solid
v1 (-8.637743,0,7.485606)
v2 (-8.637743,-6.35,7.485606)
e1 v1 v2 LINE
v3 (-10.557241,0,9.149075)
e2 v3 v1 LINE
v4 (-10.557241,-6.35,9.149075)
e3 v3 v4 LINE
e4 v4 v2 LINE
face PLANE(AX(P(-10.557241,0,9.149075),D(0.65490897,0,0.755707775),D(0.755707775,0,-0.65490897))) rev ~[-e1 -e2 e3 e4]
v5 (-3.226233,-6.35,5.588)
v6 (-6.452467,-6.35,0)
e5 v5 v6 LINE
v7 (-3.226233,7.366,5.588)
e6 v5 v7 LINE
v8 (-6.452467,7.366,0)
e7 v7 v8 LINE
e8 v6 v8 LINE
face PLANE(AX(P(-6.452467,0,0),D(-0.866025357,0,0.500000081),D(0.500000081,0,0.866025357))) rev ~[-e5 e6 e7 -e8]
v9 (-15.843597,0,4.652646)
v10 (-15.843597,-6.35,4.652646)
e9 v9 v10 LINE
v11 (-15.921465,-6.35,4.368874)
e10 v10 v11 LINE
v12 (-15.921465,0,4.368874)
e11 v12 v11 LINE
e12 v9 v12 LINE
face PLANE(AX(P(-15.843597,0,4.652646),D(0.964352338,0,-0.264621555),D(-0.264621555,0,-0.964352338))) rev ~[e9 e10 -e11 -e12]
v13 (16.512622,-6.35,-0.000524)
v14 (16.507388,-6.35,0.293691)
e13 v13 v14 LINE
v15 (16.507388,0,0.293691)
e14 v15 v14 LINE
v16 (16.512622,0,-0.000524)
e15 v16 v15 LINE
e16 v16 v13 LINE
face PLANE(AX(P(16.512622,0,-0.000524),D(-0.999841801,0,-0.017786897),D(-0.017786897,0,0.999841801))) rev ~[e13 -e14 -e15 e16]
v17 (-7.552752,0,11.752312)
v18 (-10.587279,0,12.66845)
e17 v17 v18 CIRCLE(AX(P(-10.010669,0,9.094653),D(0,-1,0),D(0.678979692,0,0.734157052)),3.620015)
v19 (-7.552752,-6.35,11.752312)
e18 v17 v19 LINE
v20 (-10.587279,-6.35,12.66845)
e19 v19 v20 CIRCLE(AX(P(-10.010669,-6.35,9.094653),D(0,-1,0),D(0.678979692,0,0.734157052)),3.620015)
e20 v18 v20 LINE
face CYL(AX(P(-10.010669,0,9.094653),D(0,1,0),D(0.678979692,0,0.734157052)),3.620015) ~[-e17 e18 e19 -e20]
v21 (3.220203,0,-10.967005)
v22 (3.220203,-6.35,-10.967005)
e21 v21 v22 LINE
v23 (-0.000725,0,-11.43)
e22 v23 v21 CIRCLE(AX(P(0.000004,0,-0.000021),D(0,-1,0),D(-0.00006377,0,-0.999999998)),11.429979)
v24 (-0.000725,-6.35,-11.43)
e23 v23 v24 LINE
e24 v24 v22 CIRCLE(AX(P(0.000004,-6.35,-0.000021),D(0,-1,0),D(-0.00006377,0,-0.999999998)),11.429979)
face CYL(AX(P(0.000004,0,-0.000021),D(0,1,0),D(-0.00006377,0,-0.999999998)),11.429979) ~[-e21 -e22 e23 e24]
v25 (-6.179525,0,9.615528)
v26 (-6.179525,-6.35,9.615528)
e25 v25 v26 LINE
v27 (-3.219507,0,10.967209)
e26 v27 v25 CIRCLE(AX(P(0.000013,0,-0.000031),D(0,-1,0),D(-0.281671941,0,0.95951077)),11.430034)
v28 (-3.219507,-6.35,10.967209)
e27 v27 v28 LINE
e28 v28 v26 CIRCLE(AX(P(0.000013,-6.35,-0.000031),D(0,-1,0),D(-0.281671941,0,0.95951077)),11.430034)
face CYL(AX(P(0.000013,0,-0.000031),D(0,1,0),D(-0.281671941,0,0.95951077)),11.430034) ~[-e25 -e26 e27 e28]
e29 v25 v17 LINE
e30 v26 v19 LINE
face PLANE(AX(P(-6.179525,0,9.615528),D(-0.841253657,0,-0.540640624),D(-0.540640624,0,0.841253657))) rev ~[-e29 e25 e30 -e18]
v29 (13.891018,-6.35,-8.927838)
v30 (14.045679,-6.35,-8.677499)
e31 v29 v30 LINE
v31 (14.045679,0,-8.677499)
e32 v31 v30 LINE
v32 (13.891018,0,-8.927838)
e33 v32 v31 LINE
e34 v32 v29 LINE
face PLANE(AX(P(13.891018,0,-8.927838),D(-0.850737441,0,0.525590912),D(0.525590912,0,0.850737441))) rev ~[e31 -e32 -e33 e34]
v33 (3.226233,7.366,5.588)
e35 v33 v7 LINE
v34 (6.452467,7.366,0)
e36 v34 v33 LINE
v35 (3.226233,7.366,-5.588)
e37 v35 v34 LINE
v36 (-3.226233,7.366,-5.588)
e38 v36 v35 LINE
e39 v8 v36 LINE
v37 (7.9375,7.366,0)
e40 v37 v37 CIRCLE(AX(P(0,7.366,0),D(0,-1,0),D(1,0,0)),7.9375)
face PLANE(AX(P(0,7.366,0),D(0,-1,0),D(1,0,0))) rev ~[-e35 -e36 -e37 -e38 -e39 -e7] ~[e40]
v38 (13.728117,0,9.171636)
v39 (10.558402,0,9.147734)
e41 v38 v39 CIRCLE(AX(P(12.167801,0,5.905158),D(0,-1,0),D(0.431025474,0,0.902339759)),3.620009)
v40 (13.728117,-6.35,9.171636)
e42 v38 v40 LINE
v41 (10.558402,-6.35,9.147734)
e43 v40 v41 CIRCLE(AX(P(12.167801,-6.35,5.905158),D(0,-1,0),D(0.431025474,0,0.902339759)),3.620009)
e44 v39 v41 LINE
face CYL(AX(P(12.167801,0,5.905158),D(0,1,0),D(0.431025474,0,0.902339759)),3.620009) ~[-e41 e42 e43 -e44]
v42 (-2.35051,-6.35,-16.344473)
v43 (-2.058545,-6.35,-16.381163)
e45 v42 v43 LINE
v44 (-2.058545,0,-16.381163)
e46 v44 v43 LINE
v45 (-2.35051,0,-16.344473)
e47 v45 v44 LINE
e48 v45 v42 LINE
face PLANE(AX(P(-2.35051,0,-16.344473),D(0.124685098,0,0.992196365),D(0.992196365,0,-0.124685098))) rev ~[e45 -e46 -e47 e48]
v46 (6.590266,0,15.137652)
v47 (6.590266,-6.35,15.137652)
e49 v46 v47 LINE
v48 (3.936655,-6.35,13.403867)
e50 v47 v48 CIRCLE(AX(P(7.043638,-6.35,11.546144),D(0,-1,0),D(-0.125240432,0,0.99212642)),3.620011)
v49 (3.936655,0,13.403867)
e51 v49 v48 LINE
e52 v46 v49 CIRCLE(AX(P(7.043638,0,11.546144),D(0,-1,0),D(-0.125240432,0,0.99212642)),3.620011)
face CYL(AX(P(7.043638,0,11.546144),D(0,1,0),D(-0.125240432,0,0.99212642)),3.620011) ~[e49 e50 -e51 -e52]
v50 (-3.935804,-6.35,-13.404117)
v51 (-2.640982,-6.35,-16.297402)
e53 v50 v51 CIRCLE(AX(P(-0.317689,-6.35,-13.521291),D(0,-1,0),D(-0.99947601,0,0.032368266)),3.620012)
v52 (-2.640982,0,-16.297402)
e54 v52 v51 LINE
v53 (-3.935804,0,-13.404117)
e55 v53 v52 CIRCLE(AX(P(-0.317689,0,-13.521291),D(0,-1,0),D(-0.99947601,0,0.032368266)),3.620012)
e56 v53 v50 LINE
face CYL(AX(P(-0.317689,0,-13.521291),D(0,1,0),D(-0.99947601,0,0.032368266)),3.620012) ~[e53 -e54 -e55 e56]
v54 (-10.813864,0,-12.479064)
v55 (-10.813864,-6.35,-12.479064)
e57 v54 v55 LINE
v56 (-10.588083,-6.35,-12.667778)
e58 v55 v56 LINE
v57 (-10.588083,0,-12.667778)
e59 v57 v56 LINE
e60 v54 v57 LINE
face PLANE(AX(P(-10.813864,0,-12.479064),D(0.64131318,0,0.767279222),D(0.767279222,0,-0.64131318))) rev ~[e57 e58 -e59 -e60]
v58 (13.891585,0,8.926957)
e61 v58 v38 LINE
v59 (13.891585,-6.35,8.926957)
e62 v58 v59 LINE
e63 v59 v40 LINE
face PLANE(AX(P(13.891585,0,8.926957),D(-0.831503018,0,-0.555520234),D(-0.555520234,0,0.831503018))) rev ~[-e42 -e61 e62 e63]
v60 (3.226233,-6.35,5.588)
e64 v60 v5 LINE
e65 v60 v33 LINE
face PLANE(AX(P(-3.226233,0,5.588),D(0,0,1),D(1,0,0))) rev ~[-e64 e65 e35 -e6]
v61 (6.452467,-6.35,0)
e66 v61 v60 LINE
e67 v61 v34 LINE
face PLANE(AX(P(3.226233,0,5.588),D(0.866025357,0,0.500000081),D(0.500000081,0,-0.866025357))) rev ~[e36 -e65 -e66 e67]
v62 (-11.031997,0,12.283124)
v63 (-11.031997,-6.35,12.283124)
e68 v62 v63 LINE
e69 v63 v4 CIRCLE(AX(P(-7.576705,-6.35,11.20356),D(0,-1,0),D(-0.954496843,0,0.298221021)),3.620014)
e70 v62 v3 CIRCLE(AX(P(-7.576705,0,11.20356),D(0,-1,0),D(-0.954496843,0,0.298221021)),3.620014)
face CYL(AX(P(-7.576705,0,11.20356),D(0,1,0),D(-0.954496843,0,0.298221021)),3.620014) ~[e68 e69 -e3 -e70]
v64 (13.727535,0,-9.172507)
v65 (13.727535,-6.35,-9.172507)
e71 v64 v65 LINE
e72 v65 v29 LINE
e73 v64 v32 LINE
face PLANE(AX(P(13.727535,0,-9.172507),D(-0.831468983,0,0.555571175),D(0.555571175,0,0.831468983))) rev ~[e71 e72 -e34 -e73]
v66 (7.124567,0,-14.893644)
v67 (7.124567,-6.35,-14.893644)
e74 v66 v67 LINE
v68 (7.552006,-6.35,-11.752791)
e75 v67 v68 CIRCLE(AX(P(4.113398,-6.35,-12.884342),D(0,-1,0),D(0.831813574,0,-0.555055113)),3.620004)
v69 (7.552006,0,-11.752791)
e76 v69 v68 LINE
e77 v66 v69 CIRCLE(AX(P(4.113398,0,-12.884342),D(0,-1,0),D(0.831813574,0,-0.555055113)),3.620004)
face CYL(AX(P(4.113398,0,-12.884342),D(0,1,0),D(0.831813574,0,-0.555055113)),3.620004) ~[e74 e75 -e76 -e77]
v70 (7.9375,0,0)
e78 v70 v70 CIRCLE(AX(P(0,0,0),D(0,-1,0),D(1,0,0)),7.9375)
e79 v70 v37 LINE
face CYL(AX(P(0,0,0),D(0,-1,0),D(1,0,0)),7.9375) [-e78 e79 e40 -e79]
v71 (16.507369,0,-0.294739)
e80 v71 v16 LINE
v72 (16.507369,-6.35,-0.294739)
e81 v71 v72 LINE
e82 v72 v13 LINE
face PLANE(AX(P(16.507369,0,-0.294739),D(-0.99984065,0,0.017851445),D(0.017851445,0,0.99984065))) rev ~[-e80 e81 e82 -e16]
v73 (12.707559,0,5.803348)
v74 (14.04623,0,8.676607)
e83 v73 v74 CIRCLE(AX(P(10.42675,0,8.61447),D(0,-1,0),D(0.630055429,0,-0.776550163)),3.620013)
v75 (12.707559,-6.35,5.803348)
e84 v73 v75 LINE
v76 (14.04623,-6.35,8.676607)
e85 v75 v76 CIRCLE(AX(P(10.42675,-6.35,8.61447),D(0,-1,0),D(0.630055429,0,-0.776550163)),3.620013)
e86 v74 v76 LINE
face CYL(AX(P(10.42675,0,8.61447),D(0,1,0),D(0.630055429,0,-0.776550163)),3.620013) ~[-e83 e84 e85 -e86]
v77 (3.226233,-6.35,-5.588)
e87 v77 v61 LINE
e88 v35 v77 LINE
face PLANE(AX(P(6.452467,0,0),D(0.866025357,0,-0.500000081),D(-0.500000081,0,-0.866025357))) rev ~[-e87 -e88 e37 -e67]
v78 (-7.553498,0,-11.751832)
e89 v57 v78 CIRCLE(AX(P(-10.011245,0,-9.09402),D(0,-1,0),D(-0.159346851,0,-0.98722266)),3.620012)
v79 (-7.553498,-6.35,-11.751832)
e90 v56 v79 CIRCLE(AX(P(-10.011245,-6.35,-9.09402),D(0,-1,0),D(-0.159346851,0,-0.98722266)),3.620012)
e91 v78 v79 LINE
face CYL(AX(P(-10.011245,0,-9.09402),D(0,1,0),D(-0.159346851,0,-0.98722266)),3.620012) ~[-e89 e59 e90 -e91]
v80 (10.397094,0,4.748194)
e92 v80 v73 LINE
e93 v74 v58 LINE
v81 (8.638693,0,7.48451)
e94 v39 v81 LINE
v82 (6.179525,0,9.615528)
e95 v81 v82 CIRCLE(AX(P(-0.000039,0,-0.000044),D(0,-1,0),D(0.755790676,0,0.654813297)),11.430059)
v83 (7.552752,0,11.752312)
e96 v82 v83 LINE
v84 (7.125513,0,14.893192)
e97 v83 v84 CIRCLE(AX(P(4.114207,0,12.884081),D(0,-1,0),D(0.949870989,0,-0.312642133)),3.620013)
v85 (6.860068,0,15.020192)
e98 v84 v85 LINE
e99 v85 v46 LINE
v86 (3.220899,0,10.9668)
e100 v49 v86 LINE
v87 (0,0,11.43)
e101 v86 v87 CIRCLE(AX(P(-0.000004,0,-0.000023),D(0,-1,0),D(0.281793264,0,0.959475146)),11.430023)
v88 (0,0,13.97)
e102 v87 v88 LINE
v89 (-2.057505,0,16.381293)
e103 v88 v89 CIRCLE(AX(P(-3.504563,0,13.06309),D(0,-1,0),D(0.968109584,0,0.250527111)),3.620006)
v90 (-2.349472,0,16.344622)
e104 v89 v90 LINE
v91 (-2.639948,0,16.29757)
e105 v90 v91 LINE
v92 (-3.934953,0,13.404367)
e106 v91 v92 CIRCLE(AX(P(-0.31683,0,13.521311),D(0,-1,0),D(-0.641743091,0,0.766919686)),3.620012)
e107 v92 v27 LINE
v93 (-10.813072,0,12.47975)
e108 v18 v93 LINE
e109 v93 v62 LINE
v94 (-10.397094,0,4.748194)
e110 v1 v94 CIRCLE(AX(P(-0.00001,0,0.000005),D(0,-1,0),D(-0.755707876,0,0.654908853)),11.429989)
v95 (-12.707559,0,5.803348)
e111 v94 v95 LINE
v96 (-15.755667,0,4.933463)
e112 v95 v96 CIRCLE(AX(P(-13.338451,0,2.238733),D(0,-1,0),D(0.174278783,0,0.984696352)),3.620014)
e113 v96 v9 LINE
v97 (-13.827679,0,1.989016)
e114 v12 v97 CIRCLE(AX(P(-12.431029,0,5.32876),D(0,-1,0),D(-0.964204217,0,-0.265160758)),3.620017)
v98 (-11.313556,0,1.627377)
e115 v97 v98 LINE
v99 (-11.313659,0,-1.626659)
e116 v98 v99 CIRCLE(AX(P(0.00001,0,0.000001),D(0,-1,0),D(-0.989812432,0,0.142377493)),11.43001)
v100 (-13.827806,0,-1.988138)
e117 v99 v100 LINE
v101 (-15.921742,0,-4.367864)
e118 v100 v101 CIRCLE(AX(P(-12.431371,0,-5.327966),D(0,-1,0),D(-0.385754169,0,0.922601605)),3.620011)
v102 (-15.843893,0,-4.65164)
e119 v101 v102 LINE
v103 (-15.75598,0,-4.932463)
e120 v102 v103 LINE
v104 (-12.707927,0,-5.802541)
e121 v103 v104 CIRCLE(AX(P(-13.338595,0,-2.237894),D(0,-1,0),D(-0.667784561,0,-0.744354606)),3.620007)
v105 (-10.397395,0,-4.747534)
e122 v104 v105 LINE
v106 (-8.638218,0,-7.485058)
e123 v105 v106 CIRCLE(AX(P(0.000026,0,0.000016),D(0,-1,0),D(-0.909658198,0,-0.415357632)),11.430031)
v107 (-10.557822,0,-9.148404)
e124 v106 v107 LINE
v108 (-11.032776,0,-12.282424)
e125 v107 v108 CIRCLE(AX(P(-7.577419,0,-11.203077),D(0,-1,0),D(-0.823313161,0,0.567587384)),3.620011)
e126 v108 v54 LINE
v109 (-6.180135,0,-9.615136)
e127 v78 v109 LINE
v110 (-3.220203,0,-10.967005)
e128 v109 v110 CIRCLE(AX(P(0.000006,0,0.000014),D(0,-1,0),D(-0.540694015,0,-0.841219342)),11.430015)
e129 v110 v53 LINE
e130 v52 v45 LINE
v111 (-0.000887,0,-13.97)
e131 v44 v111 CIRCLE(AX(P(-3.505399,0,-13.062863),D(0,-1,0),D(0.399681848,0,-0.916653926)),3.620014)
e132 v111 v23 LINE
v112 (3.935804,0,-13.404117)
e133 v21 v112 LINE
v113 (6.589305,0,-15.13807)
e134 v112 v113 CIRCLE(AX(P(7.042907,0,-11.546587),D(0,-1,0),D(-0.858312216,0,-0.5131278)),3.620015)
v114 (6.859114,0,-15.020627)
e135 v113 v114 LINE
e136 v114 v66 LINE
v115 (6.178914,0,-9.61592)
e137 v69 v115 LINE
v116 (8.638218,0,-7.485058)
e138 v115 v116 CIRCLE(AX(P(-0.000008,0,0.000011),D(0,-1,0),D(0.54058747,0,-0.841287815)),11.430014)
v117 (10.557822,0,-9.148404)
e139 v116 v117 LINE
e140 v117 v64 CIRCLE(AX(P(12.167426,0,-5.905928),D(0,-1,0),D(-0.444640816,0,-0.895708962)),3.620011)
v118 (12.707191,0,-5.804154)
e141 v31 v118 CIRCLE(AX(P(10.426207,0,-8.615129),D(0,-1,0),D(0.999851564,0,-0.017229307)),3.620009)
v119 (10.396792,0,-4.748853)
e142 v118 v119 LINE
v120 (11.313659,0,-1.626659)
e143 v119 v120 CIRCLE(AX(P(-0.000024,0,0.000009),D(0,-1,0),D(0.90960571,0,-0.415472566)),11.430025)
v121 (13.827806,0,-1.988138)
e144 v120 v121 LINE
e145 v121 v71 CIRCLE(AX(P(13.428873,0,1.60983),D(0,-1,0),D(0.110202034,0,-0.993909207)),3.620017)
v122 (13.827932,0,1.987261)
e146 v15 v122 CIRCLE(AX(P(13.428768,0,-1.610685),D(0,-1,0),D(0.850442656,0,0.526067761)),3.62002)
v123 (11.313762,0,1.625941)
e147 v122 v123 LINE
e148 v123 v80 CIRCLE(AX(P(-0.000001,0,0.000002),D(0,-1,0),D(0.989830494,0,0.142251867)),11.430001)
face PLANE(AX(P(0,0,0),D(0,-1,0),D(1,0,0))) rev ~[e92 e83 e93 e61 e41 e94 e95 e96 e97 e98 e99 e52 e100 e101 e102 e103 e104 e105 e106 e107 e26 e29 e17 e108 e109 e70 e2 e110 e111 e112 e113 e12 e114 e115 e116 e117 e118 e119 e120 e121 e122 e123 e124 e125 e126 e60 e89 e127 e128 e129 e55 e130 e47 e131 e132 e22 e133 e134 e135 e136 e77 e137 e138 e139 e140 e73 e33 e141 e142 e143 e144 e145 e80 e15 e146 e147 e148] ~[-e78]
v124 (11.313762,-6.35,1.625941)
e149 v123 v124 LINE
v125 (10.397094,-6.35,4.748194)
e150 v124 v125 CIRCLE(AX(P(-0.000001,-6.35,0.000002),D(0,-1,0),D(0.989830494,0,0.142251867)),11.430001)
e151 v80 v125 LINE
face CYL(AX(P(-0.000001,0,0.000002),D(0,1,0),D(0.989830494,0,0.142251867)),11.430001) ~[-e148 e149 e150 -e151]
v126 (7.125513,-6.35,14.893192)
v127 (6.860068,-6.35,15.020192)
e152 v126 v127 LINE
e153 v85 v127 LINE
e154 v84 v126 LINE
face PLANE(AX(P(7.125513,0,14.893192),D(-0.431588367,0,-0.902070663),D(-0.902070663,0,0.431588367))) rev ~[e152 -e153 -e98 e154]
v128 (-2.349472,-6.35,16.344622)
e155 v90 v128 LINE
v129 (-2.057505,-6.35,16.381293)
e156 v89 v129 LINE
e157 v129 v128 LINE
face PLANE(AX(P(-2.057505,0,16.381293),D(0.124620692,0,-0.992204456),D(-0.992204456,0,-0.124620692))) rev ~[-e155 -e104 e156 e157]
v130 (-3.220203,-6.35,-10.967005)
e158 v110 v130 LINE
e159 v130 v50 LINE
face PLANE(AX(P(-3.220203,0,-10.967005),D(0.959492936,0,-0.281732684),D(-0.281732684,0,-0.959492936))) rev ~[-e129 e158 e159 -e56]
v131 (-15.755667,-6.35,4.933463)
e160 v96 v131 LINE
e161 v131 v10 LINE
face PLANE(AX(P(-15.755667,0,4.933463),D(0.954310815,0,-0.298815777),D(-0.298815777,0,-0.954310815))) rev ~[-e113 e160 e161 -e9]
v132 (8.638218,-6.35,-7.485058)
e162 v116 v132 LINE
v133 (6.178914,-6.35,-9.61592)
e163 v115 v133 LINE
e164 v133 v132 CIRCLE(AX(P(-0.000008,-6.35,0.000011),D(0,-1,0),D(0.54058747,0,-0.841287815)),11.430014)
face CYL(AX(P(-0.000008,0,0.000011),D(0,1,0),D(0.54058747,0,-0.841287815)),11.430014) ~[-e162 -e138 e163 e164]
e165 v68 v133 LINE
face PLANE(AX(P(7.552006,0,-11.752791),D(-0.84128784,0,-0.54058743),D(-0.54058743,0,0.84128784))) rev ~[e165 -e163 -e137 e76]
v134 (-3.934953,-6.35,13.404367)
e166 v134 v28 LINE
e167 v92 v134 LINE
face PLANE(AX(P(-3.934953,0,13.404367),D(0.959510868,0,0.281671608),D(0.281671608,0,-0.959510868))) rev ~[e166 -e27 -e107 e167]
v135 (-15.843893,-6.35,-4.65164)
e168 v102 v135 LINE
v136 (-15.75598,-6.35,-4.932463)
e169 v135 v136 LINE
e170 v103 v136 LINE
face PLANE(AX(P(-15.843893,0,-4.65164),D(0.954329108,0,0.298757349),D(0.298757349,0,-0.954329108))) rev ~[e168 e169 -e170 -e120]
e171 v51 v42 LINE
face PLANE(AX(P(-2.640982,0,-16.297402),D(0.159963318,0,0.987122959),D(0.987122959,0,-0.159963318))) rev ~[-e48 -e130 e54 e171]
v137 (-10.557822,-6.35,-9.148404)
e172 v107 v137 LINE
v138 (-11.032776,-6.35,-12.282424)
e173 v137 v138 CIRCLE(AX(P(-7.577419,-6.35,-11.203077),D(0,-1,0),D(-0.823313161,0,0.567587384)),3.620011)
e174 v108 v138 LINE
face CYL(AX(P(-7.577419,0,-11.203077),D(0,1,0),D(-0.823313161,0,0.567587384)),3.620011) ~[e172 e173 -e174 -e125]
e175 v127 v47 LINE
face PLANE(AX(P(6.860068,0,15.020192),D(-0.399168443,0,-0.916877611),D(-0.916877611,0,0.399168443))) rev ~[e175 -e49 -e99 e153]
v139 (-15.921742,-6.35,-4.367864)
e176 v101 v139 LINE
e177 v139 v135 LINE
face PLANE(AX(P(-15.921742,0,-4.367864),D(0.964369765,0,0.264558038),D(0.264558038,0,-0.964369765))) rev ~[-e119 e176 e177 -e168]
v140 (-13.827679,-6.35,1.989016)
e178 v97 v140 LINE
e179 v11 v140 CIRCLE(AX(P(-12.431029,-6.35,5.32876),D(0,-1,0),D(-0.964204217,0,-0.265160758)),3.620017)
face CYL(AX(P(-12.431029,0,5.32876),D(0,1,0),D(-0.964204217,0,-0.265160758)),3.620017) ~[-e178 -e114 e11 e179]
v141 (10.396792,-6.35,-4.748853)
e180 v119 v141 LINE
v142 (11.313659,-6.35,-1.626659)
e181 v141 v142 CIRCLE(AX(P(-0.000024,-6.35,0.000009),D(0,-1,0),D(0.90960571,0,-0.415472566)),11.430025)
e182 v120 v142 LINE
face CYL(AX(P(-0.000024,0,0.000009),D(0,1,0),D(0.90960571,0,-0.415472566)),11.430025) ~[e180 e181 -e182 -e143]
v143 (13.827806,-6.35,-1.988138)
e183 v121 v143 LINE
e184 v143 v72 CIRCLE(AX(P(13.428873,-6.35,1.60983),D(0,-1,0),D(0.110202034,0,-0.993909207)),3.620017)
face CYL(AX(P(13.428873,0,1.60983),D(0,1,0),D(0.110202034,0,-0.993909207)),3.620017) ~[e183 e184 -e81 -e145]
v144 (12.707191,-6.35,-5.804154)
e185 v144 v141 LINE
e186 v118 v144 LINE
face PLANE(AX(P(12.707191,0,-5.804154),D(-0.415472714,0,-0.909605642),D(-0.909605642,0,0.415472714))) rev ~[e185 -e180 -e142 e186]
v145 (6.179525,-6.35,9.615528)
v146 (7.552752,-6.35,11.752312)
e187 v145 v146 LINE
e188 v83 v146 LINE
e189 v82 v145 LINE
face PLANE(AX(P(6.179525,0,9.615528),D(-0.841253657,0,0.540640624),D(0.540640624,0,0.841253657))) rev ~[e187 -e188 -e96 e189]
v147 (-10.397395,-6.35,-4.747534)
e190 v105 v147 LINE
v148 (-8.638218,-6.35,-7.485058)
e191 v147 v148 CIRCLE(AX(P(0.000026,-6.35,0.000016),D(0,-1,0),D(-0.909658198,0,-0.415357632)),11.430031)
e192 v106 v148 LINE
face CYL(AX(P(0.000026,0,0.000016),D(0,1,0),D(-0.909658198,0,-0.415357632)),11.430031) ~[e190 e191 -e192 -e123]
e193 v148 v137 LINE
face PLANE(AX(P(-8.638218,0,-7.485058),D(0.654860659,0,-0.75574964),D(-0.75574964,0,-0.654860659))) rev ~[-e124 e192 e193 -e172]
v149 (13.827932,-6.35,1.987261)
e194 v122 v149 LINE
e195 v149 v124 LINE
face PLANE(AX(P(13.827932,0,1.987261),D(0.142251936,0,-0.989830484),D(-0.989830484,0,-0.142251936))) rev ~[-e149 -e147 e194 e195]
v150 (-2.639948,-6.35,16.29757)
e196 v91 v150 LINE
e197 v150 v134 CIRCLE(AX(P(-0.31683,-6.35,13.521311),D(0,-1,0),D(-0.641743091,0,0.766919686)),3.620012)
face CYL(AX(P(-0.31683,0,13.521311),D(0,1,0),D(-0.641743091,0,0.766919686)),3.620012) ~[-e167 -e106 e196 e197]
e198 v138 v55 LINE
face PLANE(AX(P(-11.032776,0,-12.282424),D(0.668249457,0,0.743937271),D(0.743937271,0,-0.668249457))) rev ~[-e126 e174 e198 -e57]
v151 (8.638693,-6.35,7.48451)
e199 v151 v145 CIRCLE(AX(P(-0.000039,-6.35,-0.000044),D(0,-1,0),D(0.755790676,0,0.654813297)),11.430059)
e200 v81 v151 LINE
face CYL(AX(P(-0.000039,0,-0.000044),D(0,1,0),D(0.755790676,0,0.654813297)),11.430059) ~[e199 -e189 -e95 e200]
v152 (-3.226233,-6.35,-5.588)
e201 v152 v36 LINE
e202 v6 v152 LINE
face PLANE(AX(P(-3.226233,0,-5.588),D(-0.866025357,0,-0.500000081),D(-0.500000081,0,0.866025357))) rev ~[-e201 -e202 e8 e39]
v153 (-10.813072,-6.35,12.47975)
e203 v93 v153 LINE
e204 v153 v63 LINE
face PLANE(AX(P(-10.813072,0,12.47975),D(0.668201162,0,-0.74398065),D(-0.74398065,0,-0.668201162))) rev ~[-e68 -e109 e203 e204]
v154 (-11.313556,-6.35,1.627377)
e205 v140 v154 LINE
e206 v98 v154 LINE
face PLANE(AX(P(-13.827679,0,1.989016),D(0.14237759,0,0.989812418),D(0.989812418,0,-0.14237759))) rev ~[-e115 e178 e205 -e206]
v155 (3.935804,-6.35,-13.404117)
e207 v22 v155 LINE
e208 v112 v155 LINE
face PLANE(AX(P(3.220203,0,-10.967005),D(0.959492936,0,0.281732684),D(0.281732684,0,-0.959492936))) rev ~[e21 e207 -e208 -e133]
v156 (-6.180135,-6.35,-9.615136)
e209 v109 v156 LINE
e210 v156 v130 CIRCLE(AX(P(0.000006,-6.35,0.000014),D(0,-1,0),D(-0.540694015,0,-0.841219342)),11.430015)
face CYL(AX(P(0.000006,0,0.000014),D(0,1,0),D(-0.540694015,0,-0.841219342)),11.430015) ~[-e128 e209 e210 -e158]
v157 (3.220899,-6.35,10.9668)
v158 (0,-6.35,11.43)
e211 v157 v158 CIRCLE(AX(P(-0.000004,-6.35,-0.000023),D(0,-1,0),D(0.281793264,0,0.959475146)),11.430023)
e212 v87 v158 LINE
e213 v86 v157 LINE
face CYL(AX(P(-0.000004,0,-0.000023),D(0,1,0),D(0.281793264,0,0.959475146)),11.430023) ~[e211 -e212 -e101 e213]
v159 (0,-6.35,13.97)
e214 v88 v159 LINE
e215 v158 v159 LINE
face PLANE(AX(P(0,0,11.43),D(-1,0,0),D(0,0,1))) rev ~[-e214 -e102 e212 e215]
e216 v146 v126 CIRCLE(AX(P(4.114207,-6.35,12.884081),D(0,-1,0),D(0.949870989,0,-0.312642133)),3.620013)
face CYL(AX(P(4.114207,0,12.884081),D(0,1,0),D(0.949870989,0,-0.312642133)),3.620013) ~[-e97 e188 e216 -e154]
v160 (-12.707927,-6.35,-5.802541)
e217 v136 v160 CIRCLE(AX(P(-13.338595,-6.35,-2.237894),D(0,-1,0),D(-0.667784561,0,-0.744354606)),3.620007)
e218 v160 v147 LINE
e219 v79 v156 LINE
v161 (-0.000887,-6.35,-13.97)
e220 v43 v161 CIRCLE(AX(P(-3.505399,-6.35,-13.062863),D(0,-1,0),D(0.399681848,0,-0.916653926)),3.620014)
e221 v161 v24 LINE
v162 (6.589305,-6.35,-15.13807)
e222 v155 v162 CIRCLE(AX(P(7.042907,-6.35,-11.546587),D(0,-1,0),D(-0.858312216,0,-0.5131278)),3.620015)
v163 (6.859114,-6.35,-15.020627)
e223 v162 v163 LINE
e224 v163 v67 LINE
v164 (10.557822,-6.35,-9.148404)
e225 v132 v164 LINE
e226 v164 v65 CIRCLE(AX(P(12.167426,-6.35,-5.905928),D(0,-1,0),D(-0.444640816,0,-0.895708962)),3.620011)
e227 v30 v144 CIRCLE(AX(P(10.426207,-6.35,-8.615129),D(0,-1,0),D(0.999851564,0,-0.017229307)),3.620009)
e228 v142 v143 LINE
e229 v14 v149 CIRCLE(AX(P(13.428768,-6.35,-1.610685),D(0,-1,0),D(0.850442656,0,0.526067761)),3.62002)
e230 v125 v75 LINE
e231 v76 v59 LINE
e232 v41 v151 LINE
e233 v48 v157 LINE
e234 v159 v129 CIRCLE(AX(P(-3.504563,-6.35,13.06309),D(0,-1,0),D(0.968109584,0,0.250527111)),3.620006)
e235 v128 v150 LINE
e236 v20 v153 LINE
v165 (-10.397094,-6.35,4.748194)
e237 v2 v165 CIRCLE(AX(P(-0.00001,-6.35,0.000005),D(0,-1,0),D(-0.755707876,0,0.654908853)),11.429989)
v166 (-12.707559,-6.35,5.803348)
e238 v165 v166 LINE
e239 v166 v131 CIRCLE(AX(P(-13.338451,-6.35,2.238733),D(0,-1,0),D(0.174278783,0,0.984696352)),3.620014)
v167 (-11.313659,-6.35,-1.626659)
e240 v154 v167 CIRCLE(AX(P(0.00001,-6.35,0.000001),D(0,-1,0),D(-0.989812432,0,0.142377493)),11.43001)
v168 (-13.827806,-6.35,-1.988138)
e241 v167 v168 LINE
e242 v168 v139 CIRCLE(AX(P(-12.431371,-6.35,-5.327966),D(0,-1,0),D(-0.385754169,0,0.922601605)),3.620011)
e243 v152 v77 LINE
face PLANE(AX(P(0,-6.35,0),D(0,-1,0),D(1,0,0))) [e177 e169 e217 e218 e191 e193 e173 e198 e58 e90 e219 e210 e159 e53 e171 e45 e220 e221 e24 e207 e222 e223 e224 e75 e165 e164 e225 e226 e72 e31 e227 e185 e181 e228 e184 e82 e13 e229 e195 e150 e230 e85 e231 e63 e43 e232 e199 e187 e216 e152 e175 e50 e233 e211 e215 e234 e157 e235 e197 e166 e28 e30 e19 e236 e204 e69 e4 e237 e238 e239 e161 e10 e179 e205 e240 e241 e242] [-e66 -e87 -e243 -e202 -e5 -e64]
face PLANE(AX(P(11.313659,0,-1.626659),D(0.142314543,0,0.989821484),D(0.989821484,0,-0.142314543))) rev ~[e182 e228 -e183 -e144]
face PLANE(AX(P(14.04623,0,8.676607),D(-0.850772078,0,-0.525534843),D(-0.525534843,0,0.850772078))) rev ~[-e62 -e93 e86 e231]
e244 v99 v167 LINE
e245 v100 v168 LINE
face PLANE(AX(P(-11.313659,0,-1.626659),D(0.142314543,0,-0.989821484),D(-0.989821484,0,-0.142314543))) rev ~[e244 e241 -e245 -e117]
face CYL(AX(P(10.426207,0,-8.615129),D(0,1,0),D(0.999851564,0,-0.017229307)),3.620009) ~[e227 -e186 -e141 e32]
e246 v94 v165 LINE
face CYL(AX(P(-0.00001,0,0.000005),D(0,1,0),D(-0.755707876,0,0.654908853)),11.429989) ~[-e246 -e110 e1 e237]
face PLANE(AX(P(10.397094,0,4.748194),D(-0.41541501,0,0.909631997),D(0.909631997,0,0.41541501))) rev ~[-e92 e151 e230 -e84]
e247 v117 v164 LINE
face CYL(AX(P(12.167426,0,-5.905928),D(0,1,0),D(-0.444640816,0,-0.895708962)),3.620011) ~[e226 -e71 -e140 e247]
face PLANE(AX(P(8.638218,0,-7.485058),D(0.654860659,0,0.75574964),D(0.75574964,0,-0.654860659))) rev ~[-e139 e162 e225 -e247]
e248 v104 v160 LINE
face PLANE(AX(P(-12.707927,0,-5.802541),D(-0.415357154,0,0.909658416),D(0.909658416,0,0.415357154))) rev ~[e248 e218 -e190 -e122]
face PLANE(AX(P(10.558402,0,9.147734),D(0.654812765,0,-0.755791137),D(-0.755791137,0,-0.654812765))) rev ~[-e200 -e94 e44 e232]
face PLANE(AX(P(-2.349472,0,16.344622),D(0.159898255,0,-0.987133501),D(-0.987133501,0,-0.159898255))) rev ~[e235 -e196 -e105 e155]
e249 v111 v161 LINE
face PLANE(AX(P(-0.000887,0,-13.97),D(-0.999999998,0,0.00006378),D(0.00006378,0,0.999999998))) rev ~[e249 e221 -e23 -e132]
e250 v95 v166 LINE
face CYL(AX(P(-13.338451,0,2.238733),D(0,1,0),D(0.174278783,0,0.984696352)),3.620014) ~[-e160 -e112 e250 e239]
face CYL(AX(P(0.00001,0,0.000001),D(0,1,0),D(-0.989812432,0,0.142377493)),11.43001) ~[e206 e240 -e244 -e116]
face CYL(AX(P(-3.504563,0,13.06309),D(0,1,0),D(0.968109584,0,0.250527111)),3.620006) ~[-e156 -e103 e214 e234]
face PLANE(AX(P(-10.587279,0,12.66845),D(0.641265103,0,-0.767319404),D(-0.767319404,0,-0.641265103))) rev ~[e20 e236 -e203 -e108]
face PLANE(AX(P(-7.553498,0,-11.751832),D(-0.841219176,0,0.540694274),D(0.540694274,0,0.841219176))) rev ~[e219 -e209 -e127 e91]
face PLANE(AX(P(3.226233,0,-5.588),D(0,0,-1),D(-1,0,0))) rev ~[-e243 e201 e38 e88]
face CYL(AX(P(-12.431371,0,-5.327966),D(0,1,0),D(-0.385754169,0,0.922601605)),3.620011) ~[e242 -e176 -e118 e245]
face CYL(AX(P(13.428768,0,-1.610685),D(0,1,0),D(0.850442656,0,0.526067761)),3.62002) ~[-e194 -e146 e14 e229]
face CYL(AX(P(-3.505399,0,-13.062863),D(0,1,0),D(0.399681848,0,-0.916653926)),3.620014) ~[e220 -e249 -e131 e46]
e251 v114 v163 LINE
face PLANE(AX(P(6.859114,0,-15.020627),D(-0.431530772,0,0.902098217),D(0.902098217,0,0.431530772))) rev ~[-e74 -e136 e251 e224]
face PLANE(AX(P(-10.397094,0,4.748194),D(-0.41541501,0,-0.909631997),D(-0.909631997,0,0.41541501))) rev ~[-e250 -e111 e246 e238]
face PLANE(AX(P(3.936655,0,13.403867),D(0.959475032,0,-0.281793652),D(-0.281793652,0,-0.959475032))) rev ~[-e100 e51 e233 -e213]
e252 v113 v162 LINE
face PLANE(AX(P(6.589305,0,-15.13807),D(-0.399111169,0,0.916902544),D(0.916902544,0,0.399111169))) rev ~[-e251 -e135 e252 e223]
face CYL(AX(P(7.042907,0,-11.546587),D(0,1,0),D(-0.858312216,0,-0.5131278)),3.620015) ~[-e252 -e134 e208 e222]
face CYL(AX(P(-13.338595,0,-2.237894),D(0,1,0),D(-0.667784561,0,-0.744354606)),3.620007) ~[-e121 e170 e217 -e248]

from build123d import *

# Parameters (mm, degrees)
F1_DEPTH = 6.35
F2_R     = 7.9375
F3_DEPTH = 7.366
F5_DEPTH = 25.4
F6_DEPTH = 25.4


with BuildPart() as f1:
    # F0 (on Front) → F1 (new body)
    with BuildSketch(Plane.XZ):
        with BuildLine():
            Line((-3.934953, 13.404367), (-3.219507, 10.967209))
            ThreePointArc((-3.219507, 10.967209), (-4.747864, 10.397244), (-6.179525, 9.615528))
            Line((-6.179525, 9.615528), (-7.552752, 11.752312))
            ThreePointArc((-7.552752, 11.752312), (-8.964411, 12.560176), (-10.587279, 12.66845))
            Line((-10.587279, 12.66845), (-10.813072, 12.47975))
            Line((-10.813072, 12.47975), (-11.031997, 12.283124))
            ThreePointArc((-11.031997, 12.283124), (-11.155886, 10.661374), (-10.557241, 9.149075))
            Line((-10.557241, 9.149075), (-8.637743, 7.485606))
            ThreePointArc((-8.637743, 7.485606), (-9.615332, 6.17983), (-10.397094, 4.748194))
            Line((-10.397094, 4.748194), (-12.707559, 5.803348))
            ThreePointArc((-12.707559, 5.803348), (-14.331886, 5.719766), (-15.755667, 4.933463))
            Line((-15.755667, 4.933463), (-15.843597, 4.652646))
            Line((-15.843597, 4.652646), (-15.921465, 4.368874))
            ThreePointArc((-15.921465, 4.368874), (-15.148902, 2.937591), (-13.827679, 1.989016))
            Line((-13.827679, 1.989016), (-11.313556, 1.627377))
            ThreePointArc((-11.313556, 1.627377), (-11.43, 0.000363), (-11.313659, -1.626659))
            Line((-11.313659, -1.626659), (-13.827806, -1.988138))
            ThreePointArc((-13.827806, -1.988138), (-15.149089, -2.936629), (-15.921742, -4.367864))
            Line((-15.921742, -4.367864), (-15.843893, -4.65164))
            Line((-15.843893, -4.65164), (-15.75598, -4.932463))
            ThreePointArc((-15.75598, -4.932463), (-14.332249, -5.718857), (-12.707927, -5.802541))
            Line((-12.707927, -5.802541), (-10.397395, -4.747534))
            ThreePointArc((-10.397395, -4.747534), (-9.615724, -6.179219), (-8.638218, -7.485058))
            Line((-8.638218, -7.485058), (-10.557822, -9.148404))
            ThreePointArc((-10.557822, -9.148404), (-11.156563, -10.660665), (-11.032776, -12.282424))
            Line((-11.032776, -12.282424), (-10.813864, -12.479064))
            Line((-10.813864, -12.479064), (-10.588083, -12.667778))
            ThreePointArc((-10.588083, -12.667778), (-8.965208, -12.559607), (-7.553498, -11.751832))
            Line((-7.553498, -11.751832), (-6.180135, -9.615136))
            ThreePointArc((-6.180135, -9.615136), (-4.748524, -10.396943), (-3.220203, -10.967005))
            Line((-3.220203, -10.967005), (-3.935804, -13.404117))
            ThreePointArc((-3.935804, -13.404117), (-3.621907, -15.000016), (-2.640982, -16.297402))
            Line((-2.640982, -16.297402), (-2.35051, -16.344473))
            Line((-2.35051, -16.344473), (-2.058545, -16.381163))
            ThreePointArc((-2.058545, -16.381163), (-0.751777, -15.412771), (-0.000887, -13.97))
            Line((-0.000887, -13.97), (-0.000725, -11.43))
            ThreePointArc((-0.000725, -11.43), (1.6263, -11.313711), (3.220203, -10.967005))
            Line((3.220203, -10.967005), (3.935804, -13.404117))
            ThreePointArc((3.935804, -13.404117), (5.062679, -14.576967), (6.589305, -15.13807))
            Line((6.589305, -15.13807), (6.859114, -15.020627))
            Line((6.859114, -15.020627), (7.124567, -14.893644))
            ThreePointArc((7.124567, -14.893644), (7.700339, -13.372489), (7.552006, -11.752791))
            Line((7.552006, -11.752791), (6.178914, -9.61592))
            ThreePointArc((6.178914, -9.61592), (7.484784, -8.638455), (8.638218, -7.485058))
            Line((8.638218, -7.485058), (10.557822, -9.148404))
            ThreePointArc((10.557822, -9.148404), (12.1399, -9.525834), (13.727535, -9.172507))
            Line((13.727535, -9.172507), (13.891018, -8.927838))
            Line((13.891018, -8.927838), (14.045679, -8.677499))
            ThreePointArc((14.045679, -8.677499), (13.707651, -7.086537), (12.707191, -5.804154))
            Line((12.707191, -5.804154), (10.396792, -4.748853))
            ThreePointArc((10.396792, -4.748853), (10.966902, -3.220551), (11.313659, -1.626659))
            Line((11.313659, -1.626659), (13.827806, -1.988138))
            ThreePointArc((13.827806, -1.988138), (15.362788, -1.450316), (16.507369, -0.294739))
            Line((16.507369, -0.294739), (16.512622, -0.000524))
            Line((16.512622, -0.000524), (16.507388, 0.293691))
            ThreePointArc((16.507388, 0.293691), (15.36288, 1.449341), (13.827932, 1.987261))
            Line((13.827932, 1.987261), (11.313762, 1.625941))
            ThreePointArc((11.313762, 1.625941), (10.967107, 3.219855), (10.397094, 4.748194))
            Line((10.397094, 4.748194), (12.707559, 5.803348))
            ThreePointArc((12.707559, 5.803348), (13.7081, 7.085667), (14.04623, 8.676607))
            Line((14.04623, 8.676607), (13.891585, 8.926957))
            Line((13.891585, 8.926957), (13.728117, 9.171636))
            ThreePointArc((13.728117, 9.171636), (12.140504, 9.525064), (10.558402, 9.147734))
            Line((10.558402, 9.147734), (8.638693, 7.48451))
            ThreePointArc((8.638693, 7.48451), (7.485332, 8.63798), (6.179525, 9.615528))
            Line((6.179525, 9.615528), (7.552752, 11.752312))
            ThreePointArc((7.552752, 11.752312), (7.701187, 13.372001), (7.125513, 14.893192))
            Line((7.125513, 14.893192), (6.860068, 15.020192))
            Line((6.860068, 15.020192), (6.590266, 15.137652))
            ThreePointArc((6.590266, 15.137652), (5.063604, 14.576646), (3.936655, 13.403867))
            Line((3.936655, 13.403867), (3.220899, 10.9668))
            ThreePointArc((3.220899, 10.9668), (1.627018, 11.313607), (0, 11.43))
            Line((0, 11.43), (0, 13.97))
            ThreePointArc((0, 13.97), (-0.750798, 15.412819), (-2.057505, 16.381293))
            Line((-2.057505, 16.381293), (-2.349472, 16.344622))
            Line((-2.349472, 16.344622), (-2.639948, 16.29757))
            ThreePointArc((-2.639948, 16.29757), (-3.620955, 15.000246), (-3.934953, 13.404367))
        make_face()
    extrude(amount=F1_DEPTH)

    # F2 (on Front) → F3 (join)
    with BuildSketch(Plane.XZ):
        Circle(F2_R)
    extrude(amount=-F3_DEPTH)

    # F4 (on Front) → F5 (cut)
    with BuildSketch(Plane.XZ):
        Polygon((3.226233, -5.588), (6.452467, 0), (3.226233, 5.588), (-3.226233, 5.588), (-6.452467, 0), (-3.226233, -5.588), align=None)
    extrude(amount=-F5_DEPTH, mode=Mode.SUBTRACT)

    # F5_face (on face) → F6 (cut)
    with BuildSketch(Plane(origin=(0, 0, 0), x_dir=(1, 0, 0), z_dir=(0, 1, 0))):
        Polygon((6.452467, 0), (3.226233, 5.588), (-3.226233, 5.588), (-6.452467, 0), (-3.226233, -5.588), (3.226233, -5.588), align=None)
    extrude(amount=-F6_DEPTH, mode=Mode.SUBTRACT)


solid = f1.part
